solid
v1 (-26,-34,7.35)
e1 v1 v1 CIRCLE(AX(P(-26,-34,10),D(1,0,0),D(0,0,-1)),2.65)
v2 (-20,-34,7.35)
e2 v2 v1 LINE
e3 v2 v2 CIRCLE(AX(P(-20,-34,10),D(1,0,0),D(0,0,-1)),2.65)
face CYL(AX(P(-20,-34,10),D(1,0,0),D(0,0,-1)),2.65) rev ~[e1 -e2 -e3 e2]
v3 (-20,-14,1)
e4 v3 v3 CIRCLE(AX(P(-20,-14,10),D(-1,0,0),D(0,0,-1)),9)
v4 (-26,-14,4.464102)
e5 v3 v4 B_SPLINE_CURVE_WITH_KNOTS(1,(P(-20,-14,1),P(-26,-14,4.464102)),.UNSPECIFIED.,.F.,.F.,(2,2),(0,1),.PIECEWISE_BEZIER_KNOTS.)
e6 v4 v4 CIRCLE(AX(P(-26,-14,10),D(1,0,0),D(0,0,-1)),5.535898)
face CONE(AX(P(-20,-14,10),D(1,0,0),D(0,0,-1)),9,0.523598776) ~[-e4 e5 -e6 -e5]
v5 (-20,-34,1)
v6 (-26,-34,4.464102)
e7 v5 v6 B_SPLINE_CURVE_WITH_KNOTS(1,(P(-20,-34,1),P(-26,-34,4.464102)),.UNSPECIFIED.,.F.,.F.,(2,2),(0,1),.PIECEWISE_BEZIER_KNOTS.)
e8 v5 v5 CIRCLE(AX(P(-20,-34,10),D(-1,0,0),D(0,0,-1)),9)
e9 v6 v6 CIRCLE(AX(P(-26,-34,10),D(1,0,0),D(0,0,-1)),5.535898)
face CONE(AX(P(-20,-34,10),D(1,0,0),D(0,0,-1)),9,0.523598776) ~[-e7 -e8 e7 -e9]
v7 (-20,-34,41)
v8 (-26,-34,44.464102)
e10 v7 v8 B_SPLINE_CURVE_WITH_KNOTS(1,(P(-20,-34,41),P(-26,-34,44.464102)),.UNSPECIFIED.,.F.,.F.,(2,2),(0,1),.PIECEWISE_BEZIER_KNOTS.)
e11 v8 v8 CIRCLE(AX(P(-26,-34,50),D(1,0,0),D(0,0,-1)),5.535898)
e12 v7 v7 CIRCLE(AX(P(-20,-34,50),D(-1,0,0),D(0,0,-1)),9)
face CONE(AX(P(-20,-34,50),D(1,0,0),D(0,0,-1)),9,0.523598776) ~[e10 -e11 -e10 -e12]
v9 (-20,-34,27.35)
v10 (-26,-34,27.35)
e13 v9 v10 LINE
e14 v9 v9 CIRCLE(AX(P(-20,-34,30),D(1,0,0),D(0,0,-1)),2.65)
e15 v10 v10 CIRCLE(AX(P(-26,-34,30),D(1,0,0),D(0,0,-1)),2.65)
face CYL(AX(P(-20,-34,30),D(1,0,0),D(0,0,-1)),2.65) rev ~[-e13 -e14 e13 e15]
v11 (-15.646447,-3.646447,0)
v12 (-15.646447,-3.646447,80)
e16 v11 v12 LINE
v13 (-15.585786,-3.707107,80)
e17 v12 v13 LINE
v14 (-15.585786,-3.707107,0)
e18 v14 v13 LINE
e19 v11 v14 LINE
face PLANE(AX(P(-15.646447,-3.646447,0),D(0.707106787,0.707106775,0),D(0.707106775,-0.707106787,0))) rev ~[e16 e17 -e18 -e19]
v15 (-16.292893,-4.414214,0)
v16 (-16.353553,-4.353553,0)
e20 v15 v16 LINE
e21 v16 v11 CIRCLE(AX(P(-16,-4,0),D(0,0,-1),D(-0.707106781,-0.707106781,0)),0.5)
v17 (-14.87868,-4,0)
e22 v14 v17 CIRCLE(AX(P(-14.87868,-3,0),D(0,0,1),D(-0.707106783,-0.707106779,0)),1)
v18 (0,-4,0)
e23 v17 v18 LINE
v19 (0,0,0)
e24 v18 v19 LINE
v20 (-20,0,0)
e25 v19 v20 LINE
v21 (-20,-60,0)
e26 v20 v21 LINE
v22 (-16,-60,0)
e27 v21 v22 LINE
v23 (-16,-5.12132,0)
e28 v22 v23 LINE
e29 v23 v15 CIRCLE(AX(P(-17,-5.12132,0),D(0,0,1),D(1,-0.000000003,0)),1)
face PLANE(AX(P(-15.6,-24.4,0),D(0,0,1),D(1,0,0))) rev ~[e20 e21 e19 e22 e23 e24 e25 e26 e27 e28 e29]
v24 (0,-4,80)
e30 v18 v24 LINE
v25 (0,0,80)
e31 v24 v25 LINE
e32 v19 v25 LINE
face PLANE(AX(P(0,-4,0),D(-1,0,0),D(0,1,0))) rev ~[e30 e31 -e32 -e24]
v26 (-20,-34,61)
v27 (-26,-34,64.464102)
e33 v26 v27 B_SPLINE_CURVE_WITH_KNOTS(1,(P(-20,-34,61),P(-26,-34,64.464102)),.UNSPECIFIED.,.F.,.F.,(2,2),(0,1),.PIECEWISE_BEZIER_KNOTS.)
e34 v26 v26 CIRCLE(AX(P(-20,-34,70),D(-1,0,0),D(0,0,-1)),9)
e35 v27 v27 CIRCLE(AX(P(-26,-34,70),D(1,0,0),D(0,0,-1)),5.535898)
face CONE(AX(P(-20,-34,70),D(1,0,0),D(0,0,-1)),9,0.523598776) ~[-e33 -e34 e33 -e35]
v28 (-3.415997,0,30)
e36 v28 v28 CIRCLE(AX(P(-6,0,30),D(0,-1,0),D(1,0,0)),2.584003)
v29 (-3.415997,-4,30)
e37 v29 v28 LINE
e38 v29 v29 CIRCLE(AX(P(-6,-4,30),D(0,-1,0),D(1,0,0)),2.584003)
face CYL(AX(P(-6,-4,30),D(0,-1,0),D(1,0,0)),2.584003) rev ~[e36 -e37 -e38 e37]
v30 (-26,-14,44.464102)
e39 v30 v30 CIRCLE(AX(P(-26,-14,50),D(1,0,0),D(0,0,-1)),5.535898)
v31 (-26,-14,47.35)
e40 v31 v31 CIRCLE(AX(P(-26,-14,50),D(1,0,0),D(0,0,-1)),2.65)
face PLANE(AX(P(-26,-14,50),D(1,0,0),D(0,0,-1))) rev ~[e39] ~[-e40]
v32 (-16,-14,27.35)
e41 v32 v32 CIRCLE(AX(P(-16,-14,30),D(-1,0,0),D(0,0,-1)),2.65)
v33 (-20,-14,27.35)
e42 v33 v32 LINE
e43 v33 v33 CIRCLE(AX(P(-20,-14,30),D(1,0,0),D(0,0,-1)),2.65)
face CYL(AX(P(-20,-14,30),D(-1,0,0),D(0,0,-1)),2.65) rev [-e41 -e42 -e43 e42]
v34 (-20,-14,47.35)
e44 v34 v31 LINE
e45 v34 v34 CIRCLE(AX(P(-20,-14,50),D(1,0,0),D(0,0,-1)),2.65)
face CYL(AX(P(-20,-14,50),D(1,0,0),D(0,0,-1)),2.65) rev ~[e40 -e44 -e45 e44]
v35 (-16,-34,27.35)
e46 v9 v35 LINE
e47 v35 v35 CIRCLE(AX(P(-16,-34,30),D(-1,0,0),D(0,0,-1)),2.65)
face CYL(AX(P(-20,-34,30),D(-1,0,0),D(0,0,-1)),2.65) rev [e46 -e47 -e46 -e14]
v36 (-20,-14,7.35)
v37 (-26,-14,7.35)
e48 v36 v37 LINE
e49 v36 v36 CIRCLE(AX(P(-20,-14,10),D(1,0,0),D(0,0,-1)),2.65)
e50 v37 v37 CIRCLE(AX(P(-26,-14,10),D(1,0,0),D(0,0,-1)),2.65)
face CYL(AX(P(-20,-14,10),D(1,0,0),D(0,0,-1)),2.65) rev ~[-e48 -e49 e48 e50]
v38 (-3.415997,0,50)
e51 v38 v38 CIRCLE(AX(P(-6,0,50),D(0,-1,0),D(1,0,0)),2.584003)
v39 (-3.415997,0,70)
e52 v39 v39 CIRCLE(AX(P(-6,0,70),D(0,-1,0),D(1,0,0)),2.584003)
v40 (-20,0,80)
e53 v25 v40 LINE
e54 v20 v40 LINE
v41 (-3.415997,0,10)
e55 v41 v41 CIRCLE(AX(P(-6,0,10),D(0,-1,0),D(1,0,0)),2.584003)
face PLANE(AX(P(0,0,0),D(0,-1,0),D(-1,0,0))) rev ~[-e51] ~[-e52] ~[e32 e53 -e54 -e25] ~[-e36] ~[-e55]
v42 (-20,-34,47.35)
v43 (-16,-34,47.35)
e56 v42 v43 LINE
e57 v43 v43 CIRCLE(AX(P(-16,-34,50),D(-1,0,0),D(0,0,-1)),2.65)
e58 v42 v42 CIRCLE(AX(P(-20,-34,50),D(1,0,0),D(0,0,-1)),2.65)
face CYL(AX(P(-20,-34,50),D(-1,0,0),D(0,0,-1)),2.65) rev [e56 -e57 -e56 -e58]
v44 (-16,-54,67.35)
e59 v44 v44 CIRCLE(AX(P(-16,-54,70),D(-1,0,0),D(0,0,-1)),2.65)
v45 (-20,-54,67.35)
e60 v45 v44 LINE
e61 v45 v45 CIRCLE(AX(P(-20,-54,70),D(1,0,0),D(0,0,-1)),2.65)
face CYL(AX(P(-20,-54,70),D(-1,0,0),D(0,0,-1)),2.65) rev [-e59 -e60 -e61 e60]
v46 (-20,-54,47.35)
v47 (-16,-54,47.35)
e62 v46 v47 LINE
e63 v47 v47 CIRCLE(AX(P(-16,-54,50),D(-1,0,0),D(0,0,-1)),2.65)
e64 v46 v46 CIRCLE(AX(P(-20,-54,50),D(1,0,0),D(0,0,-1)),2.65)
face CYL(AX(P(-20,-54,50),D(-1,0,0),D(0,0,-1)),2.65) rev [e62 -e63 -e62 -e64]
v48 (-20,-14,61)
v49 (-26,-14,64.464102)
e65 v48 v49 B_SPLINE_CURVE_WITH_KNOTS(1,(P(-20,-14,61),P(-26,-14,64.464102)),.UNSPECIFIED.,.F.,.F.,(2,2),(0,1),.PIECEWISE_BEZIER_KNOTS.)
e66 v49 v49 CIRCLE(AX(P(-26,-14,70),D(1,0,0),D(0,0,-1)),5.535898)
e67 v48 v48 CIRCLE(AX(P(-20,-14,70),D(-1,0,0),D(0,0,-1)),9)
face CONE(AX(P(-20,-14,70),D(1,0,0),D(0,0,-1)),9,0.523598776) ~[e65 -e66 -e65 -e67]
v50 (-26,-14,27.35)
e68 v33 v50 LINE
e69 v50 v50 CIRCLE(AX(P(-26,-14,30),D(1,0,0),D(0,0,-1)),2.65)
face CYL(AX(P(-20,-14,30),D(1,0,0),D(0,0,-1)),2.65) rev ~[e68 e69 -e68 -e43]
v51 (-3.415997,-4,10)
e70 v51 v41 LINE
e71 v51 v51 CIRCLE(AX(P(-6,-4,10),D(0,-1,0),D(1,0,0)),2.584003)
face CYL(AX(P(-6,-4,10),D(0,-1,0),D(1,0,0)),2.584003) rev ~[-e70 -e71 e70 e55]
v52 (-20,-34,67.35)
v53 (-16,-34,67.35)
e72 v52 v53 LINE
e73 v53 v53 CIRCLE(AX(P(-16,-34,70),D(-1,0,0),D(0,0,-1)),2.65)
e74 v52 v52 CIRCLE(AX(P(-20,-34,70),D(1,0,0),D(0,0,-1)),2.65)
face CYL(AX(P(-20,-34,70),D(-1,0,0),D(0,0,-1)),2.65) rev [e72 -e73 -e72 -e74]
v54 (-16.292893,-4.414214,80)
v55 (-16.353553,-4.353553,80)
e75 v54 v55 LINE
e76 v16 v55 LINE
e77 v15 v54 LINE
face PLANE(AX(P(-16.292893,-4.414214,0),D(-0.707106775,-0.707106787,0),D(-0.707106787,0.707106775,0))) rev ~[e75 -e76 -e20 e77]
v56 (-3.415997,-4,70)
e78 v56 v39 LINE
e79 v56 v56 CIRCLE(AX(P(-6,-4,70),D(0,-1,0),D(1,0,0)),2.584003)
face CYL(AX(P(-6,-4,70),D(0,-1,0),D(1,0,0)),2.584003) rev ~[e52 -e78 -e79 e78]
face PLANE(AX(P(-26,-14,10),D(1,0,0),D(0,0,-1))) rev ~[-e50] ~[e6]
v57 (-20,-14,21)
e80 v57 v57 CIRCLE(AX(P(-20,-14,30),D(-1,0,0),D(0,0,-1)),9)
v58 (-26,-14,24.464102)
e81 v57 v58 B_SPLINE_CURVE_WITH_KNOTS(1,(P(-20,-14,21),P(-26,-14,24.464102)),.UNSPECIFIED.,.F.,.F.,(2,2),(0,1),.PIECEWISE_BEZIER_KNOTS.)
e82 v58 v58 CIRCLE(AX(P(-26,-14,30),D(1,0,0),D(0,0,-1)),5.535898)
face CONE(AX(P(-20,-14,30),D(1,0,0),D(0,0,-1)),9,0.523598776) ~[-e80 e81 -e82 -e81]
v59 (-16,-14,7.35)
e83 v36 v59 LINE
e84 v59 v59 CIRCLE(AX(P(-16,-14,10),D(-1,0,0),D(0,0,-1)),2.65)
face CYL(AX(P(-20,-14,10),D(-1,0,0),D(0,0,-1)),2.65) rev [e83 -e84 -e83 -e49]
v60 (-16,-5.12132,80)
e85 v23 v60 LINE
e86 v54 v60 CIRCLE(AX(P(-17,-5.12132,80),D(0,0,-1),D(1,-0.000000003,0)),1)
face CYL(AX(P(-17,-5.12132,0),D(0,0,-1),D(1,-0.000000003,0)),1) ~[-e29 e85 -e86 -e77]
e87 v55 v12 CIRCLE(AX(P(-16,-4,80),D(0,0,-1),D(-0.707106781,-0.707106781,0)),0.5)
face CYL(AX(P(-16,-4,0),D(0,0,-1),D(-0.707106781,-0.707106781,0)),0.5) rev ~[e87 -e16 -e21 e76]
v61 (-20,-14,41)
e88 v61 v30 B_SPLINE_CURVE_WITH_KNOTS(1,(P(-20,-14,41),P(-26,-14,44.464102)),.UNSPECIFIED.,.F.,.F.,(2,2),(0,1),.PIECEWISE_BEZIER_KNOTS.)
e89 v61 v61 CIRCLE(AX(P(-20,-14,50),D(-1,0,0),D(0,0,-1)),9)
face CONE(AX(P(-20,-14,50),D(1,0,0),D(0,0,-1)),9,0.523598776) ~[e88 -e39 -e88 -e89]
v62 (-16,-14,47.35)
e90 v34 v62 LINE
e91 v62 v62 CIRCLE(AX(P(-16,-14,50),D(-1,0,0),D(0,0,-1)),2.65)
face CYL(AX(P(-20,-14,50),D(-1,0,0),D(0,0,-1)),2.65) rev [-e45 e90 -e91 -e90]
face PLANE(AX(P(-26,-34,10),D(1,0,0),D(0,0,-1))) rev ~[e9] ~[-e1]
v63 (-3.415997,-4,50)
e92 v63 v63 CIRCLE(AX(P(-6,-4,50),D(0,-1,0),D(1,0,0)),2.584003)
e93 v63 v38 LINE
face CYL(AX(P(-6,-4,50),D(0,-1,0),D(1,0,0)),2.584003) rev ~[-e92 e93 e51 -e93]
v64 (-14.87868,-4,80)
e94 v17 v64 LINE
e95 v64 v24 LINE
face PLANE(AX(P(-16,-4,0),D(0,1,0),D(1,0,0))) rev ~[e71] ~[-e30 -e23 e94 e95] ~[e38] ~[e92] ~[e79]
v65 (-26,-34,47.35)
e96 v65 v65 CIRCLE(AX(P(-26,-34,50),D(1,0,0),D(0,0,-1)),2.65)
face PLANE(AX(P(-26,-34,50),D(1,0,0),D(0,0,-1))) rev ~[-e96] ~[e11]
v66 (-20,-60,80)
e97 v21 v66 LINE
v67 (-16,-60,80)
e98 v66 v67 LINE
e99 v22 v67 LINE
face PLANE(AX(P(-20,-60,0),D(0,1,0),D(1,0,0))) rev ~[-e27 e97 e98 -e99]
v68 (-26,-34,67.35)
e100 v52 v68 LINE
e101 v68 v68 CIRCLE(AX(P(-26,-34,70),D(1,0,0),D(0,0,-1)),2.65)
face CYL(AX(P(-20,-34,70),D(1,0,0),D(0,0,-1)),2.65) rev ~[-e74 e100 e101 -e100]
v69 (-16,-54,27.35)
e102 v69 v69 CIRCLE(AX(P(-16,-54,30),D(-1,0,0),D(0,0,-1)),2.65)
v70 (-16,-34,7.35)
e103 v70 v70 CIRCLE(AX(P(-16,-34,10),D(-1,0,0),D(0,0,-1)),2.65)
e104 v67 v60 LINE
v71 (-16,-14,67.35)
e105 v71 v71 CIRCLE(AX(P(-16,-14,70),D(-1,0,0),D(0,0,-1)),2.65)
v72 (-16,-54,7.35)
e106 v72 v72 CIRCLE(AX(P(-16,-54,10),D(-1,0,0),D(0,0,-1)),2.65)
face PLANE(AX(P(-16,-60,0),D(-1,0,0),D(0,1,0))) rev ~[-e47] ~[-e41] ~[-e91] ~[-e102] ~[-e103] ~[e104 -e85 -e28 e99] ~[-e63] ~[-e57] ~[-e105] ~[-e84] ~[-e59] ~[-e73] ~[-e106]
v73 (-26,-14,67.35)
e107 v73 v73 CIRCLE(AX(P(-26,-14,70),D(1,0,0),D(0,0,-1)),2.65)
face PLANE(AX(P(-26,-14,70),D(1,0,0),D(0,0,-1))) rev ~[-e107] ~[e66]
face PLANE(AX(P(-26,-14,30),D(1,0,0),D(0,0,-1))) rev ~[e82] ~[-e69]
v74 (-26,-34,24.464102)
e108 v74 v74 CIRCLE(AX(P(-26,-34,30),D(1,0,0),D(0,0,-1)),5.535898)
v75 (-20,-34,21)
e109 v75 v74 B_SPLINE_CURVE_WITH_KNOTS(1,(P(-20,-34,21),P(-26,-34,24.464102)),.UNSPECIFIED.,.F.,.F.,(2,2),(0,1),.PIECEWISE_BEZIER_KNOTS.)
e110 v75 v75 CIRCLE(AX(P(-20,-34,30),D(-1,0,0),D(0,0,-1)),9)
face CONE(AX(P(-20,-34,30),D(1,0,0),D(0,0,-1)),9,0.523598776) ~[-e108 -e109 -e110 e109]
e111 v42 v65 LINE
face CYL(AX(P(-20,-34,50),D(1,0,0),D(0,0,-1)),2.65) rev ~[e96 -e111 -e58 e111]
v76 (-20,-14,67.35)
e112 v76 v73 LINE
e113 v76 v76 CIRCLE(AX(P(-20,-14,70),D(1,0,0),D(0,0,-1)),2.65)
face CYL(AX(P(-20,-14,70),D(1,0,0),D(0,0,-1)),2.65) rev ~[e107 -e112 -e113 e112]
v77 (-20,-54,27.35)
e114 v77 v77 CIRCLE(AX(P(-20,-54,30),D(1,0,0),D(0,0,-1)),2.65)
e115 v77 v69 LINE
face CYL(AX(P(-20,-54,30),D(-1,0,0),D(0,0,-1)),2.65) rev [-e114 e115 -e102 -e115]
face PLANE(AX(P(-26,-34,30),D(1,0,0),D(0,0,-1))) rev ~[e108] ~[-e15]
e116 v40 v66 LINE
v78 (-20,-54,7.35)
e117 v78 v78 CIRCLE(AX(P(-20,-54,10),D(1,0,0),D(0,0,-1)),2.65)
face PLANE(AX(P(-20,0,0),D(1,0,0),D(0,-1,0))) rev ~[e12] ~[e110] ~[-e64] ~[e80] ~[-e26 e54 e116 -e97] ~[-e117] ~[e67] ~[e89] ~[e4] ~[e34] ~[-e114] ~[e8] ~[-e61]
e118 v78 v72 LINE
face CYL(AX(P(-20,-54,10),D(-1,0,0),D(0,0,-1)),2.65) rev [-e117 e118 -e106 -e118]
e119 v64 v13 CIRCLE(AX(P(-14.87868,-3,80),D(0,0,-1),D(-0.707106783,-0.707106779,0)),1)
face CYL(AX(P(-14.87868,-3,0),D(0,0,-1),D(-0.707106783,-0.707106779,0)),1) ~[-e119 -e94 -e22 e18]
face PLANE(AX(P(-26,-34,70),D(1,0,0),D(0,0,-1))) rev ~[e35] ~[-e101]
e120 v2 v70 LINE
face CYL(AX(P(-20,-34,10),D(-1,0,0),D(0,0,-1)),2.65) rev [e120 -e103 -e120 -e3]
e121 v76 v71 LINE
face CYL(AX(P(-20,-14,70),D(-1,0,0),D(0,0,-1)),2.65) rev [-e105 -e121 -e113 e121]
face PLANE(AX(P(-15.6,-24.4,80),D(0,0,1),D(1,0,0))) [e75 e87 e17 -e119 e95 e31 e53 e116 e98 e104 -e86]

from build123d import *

# Parameters (mm, degrees)
BOSS_EXTRUDE1_DEPTH            = 80
SKETCH2_R                      = 9
BOSS_EXTRUDE2_DEPTH            = 6
BOSS_EXTRUDE2_DRAFT            = -30
BOSS_EXTRUDE2_PROFILE_2_DEPTH  = 6
BOSS_EXTRUDE2_PROFILE_2_DRAFT  = -30
BOSS_EXTRUDE2_PROFILE_3_DEPTH  = 6
BOSS_EXTRUDE2_PROFILE_3_DRAFT  = -30
BOSS_EXTRUDE2_PROFILE_4_DEPTH  = 6
BOSS_EXTRUDE2_PROFILE_4_DRAFT  = -30
BOSS_EXTRUDE2_PROFILE_5_DEPTH  = 6
BOSS_EXTRUDE2_PROFILE_5_DRAFT  = -30
BOSS_EXTRUDE2_PROFILE_6_DEPTH  = 6
BOSS_EXTRUDE2_PROFILE_6_DRAFT  = -30
BOSS_EXTRUDE2_PROFILE_7_DEPTH  = 6
BOSS_EXTRUDE2_PROFILE_7_DRAFT  = -30
BOSS_EXTRUDE2_PROFILE_8_DEPTH  = 6
BOSS_EXTRUDE2_PROFILE_8_DRAFT  = -30
CUT_EXTRUDE1_REACH             = 103.98
SKETCH2_4_R                    = 2.65
CUT_EXTRUDE1_DIRECTION_2_REACH = 103.98
CUT_EXTRUDE2_REACH             = 103.054
SKETCH3_R                      = 2.584003328
CUT_EXTRUDE3_REACH             = 105.325


with BuildPart() as part:
    # Sketch1 → Boss-Extrude1 (new body)
    with BuildSketch(Plane.XY):
        Polygon((0, 0), (-20, 0), (-20, -60), (-16, -60), (-16, -4), (0, -4), align=None)
    extrude(amount=BOSS_EXTRUDE1_DEPTH)


with BuildPart() as boss_extrude2_tool:
    # Sketch2 → Boss-Extrude2 (with draft: the straight prism first)
    with BuildSketch(Plane(origin=(-20, 0, 0), x_dir=(0, 0, -1), z_dir=(1, 0, 0))):
        with Locations((-10, -14)):
            Circle(SKETCH2_R)
    extrude(amount=-BOSS_EXTRUDE2_DEPTH)
    # Boss-Extrude2: the draft: its side faces are tilted about the plane it starts from
    boss_extrude2_sides = [boss_extrude2_tool.faces().sort_by_distance(p)[0] for p in [
        (-23, -14, 19),
    ]]
    draft(boss_extrude2_sides, Plane(origin=(-20, 0, 0), x_dir=(0, 0, -1), z_dir=(1, 0, 0)), BOSS_EXTRUDE2_DRAFT)


with BuildPart() as part_1:
    add(part.part)

    # Boss-Extrude2: add boss_extrude2_tool
    add(boss_extrude2_tool.part)


with BuildPart() as boss_extrude2_profile_2_tool:
    # Sketch2 → Boss-Extrude2 profile 2 (with draft: the straight prism first)
    with BuildSketch(Plane(origin=(-20, 0, 0), x_dir=(0, 0, -1), z_dir=(1, 0, 0))):
        with Locations((-30, -14)):
            Circle(SKETCH2_R)
    extrude(amount=-BOSS_EXTRUDE2_PROFILE_2_DEPTH)
    # Boss-Extrude2 profile 2: the draft: its side faces are tilted about the plane it starts from
    boss_extrude2_profile_2_sides = [boss_extrude2_profile_2_tool.faces().sort_by_distance(p)[0] for p in [
        (-23, -14, 39),
    ]]
    draft(boss_extrude2_profile_2_sides, Plane(origin=(-20, 0, 0), x_dir=(0, 0, -1), z_dir=(1, 0, 0)), BOSS_EXTRUDE2_PROFILE_2_DRAFT)


with BuildPart() as part_2:
    add(part_1.part)

    # Boss-Extrude2 profile 2: add boss_extrude2_profile_2_tool
    add(boss_extrude2_profile_2_tool.part)


with BuildPart() as boss_extrude2_profile_3_tool:
    # Sketch2 → Boss-Extrude2 profile 3 (with draft: the straight prism first)
    with BuildSketch(Plane(origin=(-20, 0, 0), x_dir=(0, 0, -1), z_dir=(1, 0, 0))):
        with Locations((-50, -14)):
            Circle(SKETCH2_R)
    extrude(amount=-BOSS_EXTRUDE2_PROFILE_3_DEPTH)
    # Boss-Extrude2 profile 3: the draft: its side faces are tilted about the plane it starts from
    boss_extrude2_profile_3_sides = [boss_extrude2_profile_3_tool.faces().sort_by_distance(p)[0] for p in [
        (-23, -14, 59),
    ]]
    draft(boss_extrude2_profile_3_sides, Plane(origin=(-20, 0, 0), x_dir=(0, 0, -1), z_dir=(1, 0, 0)), BOSS_EXTRUDE2_PROFILE_3_DRAFT)


with BuildPart() as part_3:
    add(part_2.part)

    # Boss-Extrude2 profile 3: add boss_extrude2_profile_3_tool
    add(boss_extrude2_profile_3_tool.part)


with BuildPart() as boss_extrude2_profile_4_tool:
    # Sketch2 → Boss-Extrude2 profile 4 (with draft: the straight prism first)
    with BuildSketch(Plane(origin=(-20, 0, 0), x_dir=(0, 0, -1), z_dir=(1, 0, 0))):
        with Locations((-70, -14)):
            Circle(SKETCH2_R)
    extrude(amount=-BOSS_EXTRUDE2_PROFILE_4_DEPTH)
    # Boss-Extrude2 profile 4: the draft: its side faces are tilted about the plane it starts from
    boss_extrude2_profile_4_sides = [boss_extrude2_profile_4_tool.faces().sort_by_distance(p)[0] for p in [
        (-23, -14, 79),
    ]]
    draft(boss_extrude2_profile_4_sides, Plane(origin=(-20, 0, 0), x_dir=(0, 0, -1), z_dir=(1, 0, 0)), BOSS_EXTRUDE2_PROFILE_4_DRAFT)


with BuildPart() as part_4:
    add(part_3.part)

    # Boss-Extrude2 profile 4: add boss_extrude2_profile_4_tool
    add(boss_extrude2_profile_4_tool.part)


with BuildPart() as boss_extrude2_profile_5_tool:
    # Sketch2 → Boss-Extrude2 profile 5 (with draft: the straight prism first)
    with BuildSketch(Plane(origin=(-20, 0, 0), x_dir=(0, 0, -1), z_dir=(1, 0, 0))):
        with Locations((-10, -34)):
            Circle(SKETCH2_R)
    extrude(amount=-BOSS_EXTRUDE2_PROFILE_5_DEPTH)
    # Boss-Extrude2 profile 5: the draft: its side faces are tilted about the plane it starts from
    boss_extrude2_profile_5_sides = [boss_extrude2_profile_5_tool.faces().sort_by_distance(p)[0] for p in [
        (-23, -34, 19),
    ]]
    draft(boss_extrude2_profile_5_sides, Plane(origin=(-20, 0, 0), x_dir=(0, 0, -1), z_dir=(1, 0, 0)), BOSS_EXTRUDE2_PROFILE_5_DRAFT)


with BuildPart() as part_5:
    add(part_4.part)

    # Boss-Extrude2 profile 5: add boss_extrude2_profile_5_tool
    add(boss_extrude2_profile_5_tool.part)


with BuildPart() as boss_extrude2_profile_6_tool:
    # Sketch2 → Boss-Extrude2 profile 6 (with draft: the straight prism first)
    with BuildSketch(Plane(origin=(-20, 0, 0), x_dir=(0, 0, -1), z_dir=(1, 0, 0))):
        with Locations((-30, -34)):
            Circle(SKETCH2_R)
    extrude(amount=-BOSS_EXTRUDE2_PROFILE_6_DEPTH)
    # Boss-Extrude2 profile 6: the draft: its side faces are tilted about the plane it starts from
    boss_extrude2_profile_6_sides = [boss_extrude2_profile_6_tool.faces().sort_by_distance(p)[0] for p in [
        (-23, -34, 39),
    ]]
    draft(boss_extrude2_profile_6_sides, Plane(origin=(-20, 0, 0), x_dir=(0, 0, -1), z_dir=(1, 0, 0)), BOSS_EXTRUDE2_PROFILE_6_DRAFT)


with BuildPart() as part_6:
    add(part_5.part)

    # Boss-Extrude2 profile 6: add boss_extrude2_profile_6_tool
    add(boss_extrude2_profile_6_tool.part)


with BuildPart() as boss_extrude2_profile_7_tool:
    # Sketch2 → Boss-Extrude2 profile 7 (with draft: the straight prism first)
    with BuildSketch(Plane(origin=(-20, 0, 0), x_dir=(0, 0, -1), z_dir=(1, 0, 0))):
        with Locations((-50, -34)):
            Circle(SKETCH2_R)
    extrude(amount=-BOSS_EXTRUDE2_PROFILE_7_DEPTH)
    # Boss-Extrude2 profile 7: the draft: its side faces are tilted about the plane it starts from
    boss_extrude2_profile_7_sides = [boss_extrude2_profile_7_tool.faces().sort_by_distance(p)[0] for p in [
        (-23, -34, 59),
    ]]
    draft(boss_extrude2_profile_7_sides, Plane(origin=(-20, 0, 0), x_dir=(0, 0, -1), z_dir=(1, 0, 0)), BOSS_EXTRUDE2_PROFILE_7_DRAFT)


with BuildPart() as part_7:
    add(part_6.part)

    # Boss-Extrude2 profile 7: add boss_extrude2_profile_7_tool
    add(boss_extrude2_profile_7_tool.part)


with BuildPart() as boss_extrude2_profile_8_tool:
    # Sketch2 → Boss-Extrude2 profile 8 (with draft: the straight prism first)
    with BuildSketch(Plane(origin=(-20, 0, 0), x_dir=(0, 0, -1), z_dir=(1, 0, 0))):
        with Locations((-70, -34)):
            Circle(SKETCH2_R)
    extrude(amount=-BOSS_EXTRUDE2_PROFILE_8_DEPTH)
    # Boss-Extrude2 profile 8: the draft: its side faces are tilted about the plane it starts from
    boss_extrude2_profile_8_sides = [boss_extrude2_profile_8_tool.faces().sort_by_distance(p)[0] for p in [
        (-23, -34, 79),
    ]]
    draft(boss_extrude2_profile_8_sides, Plane(origin=(-20, 0, 0), x_dir=(0, 0, -1), z_dir=(1, 0, 0)), BOSS_EXTRUDE2_PROFILE_8_DRAFT)


with BuildPart() as part_8:
    add(part_7.part)

    # Boss-Extrude2 profile 8: add boss_extrude2_profile_8_tool
    add(boss_extrude2_profile_8_tool.part)

    # Cut-Extrude1: up to this face of the body (flat: up to its plane)
    cut_extrude1_end = Plane(part_8.part.faces().sort_by_distance((-26, -14, 10))[0])
    # Sketch2_4 → Cut-Extrude1 (cut, up to the picked face)
    with BuildSketch(Plane(origin=(-20, 0, 0), x_dir=(0, 0, -1), z_dir=(1, 0, 0)), mode=Mode.PRIVATE) as cut_extrude1_sk1:
        with Locations((-10, -14)):
            Circle(SKETCH2_4_R)
    cut_extrude1_tool1 = split(extrude(cut_extrude1_sk1.sketch, amount=-CUT_EXTRUDE1_REACH, mode=Mode.PRIVATE), bisect_by=cut_extrude1_end, keep=Keep.BOTH, mode=Mode.PRIVATE)
    # Sketch2_4 → Cut-Extrude1 (cut, up to the picked face)
    with BuildSketch(Plane(origin=(-20, 0, 0), x_dir=(0, 0, -1), z_dir=(1, 0, 0)), mode=Mode.PRIVATE) as cut_extrude1_sk2:
        with Locations((-30, -14)):
            Circle(SKETCH2_4_R)
    cut_extrude1_tool2 = split(extrude(cut_extrude1_sk2.sketch, amount=-CUT_EXTRUDE1_REACH, mode=Mode.PRIVATE), bisect_by=cut_extrude1_end, keep=Keep.BOTH, mode=Mode.PRIVATE)
    # Sketch2_4 → Cut-Extrude1 (cut, up to the picked face)
    with BuildSketch(Plane(origin=(-20, 0, 0), x_dir=(0, 0, -1), z_dir=(1, 0, 0)), mode=Mode.PRIVATE) as cut_extrude1_sk3:
        with Locations((-50, -14)):
            Circle(SKETCH2_4_R)
    cut_extrude1_tool3 = split(extrude(cut_extrude1_sk3.sketch, amount=-CUT_EXTRUDE1_REACH, mode=Mode.PRIVATE), bisect_by=cut_extrude1_end, keep=Keep.BOTH, mode=Mode.PRIVATE)
    # Sketch2_4 → Cut-Extrude1 (cut, up to the picked face)
    with BuildSketch(Plane(origin=(-20, 0, 0), x_dir=(0, 0, -1), z_dir=(1, 0, 0)), mode=Mode.PRIVATE) as cut_extrude1_sk4:
        with Locations((-70, -14)):
            Circle(SKETCH2_4_R)
    cut_extrude1_tool4 = split(extrude(cut_extrude1_sk4.sketch, amount=-CUT_EXTRUDE1_REACH, mode=Mode.PRIVATE), bisect_by=cut_extrude1_end, keep=Keep.BOTH, mode=Mode.PRIVATE)
    # Sketch2_4 → Cut-Extrude1 (cut, up to the picked face)
    with BuildSketch(Plane(origin=(-20, 0, 0), x_dir=(0, 0, -1), z_dir=(1, 0, 0)), mode=Mode.PRIVATE) as cut_extrude1_sk5:
        with Locations((-10, -34)):
            Circle(SKETCH2_4_R)
    cut_extrude1_tool5 = split(extrude(cut_extrude1_sk5.sketch, amount=-CUT_EXTRUDE1_REACH, mode=Mode.PRIVATE), bisect_by=cut_extrude1_end, keep=Keep.BOTH, mode=Mode.PRIVATE)
    # Sketch2_4 → Cut-Extrude1 (cut, up to the picked face)
    with BuildSketch(Plane(origin=(-20, 0, 0), x_dir=(0, 0, -1), z_dir=(1, 0, 0)), mode=Mode.PRIVATE) as cut_extrude1_sk6:
        with Locations((-30, -34)):
            Circle(SKETCH2_4_R)
    cut_extrude1_tool6 = split(extrude(cut_extrude1_sk6.sketch, amount=-CUT_EXTRUDE1_REACH, mode=Mode.PRIVATE), bisect_by=cut_extrude1_end, keep=Keep.BOTH, mode=Mode.PRIVATE)
    # Sketch2_4 → Cut-Extrude1 (cut, up to the picked face)
    with BuildSketch(Plane(origin=(-20, 0, 0), x_dir=(0, 0, -1), z_dir=(1, 0, 0)), mode=Mode.PRIVATE) as cut_extrude1_sk7:
        with Locations((-50, -34)):
            Circle(SKETCH2_4_R)
    cut_extrude1_tool7 = split(extrude(cut_extrude1_sk7.sketch, amount=-CUT_EXTRUDE1_REACH, mode=Mode.PRIVATE), bisect_by=cut_extrude1_end, keep=Keep.BOTH, mode=Mode.PRIVATE)
    # Sketch2_4 → Cut-Extrude1 (cut, up to the picked face)
    with BuildSketch(Plane(origin=(-20, 0, 0), x_dir=(0, 0, -1), z_dir=(1, 0, 0)), mode=Mode.PRIVATE) as cut_extrude1_sk8:
        with Locations((-70, -34)):
            Circle(SKETCH2_4_R)
    cut_extrude1_tool8 = split(extrude(cut_extrude1_sk8.sketch, amount=-CUT_EXTRUDE1_REACH, mode=Mode.PRIVATE), bisect_by=cut_extrude1_end, keep=Keep.BOTH, mode=Mode.PRIVATE)
    # Sketch2_4 → Cut-Extrude1 (cut, up to the picked face)
    with BuildSketch(Plane(origin=(-20, 0, 0), x_dir=(0, 0, -1), z_dir=(1, 0, 0)), mode=Mode.PRIVATE) as cut_extrude1_sk9:
        with Locations((-70, -54)):
            Circle(SKETCH2_4_R)
    cut_extrude1_tool9 = split(extrude(cut_extrude1_sk9.sketch, amount=-CUT_EXTRUDE1_REACH, mode=Mode.PRIVATE), bisect_by=cut_extrude1_end, keep=Keep.BOTH, mode=Mode.PRIVATE)
    # Sketch2_4 → Cut-Extrude1 (cut, up to the picked face)
    with BuildSketch(Plane(origin=(-20, 0, 0), x_dir=(0, 0, -1), z_dir=(1, 0, 0)), mode=Mode.PRIVATE) as cut_extrude1_sk10:
        with Locations((-50, -54)):
            Circle(SKETCH2_4_R)
    cut_extrude1_tool10 = split(extrude(cut_extrude1_sk10.sketch, amount=-CUT_EXTRUDE1_REACH, mode=Mode.PRIVATE), bisect_by=cut_extrude1_end, keep=Keep.BOTH, mode=Mode.PRIVATE)
    # Sketch2_4 → Cut-Extrude1 (cut, up to the picked face)
    with BuildSketch(Plane(origin=(-20, 0, 0), x_dir=(0, 0, -1), z_dir=(1, 0, 0)), mode=Mode.PRIVATE) as cut_extrude1_sk11:
        with Locations((-30, -54)):
            Circle(SKETCH2_4_R)
    cut_extrude1_tool11 = split(extrude(cut_extrude1_sk11.sketch, amount=-CUT_EXTRUDE1_REACH, mode=Mode.PRIVATE), bisect_by=cut_extrude1_end, keep=Keep.BOTH, mode=Mode.PRIVATE)
    # Sketch2_4 → Cut-Extrude1 (cut, up to the picked face)
    with BuildSketch(Plane(origin=(-20, 0, 0), x_dir=(0, 0, -1), z_dir=(1, 0, 0)), mode=Mode.PRIVATE) as cut_extrude1_sk12:
        with Locations((-10, -54)):
            Circle(SKETCH2_4_R)
    cut_extrude1_tool12 = split(extrude(cut_extrude1_sk12.sketch, amount=-CUT_EXTRUDE1_REACH, mode=Mode.PRIVATE), bisect_by=cut_extrude1_end, keep=Keep.BOTH, mode=Mode.PRIVATE)
    add(cut_extrude1_tool1.solids().sort_by(Axis((-20, -14, 10), (-1, 0, 0)))[0], mode=Mode.SUBTRACT)
    add(cut_extrude1_tool2.solids().sort_by(Axis((-20, -14, 30), (-1, 0, 0)))[0], mode=Mode.SUBTRACT)
    add(cut_extrude1_tool3.solids().sort_by(Axis((-20, -14, 50), (-1, 0, 0)))[0], mode=Mode.SUBTRACT)
    add(cut_extrude1_tool4.solids().sort_by(Axis((-20, -14, 70), (-1, 0, 0)))[0], mode=Mode.SUBTRACT)
    add(cut_extrude1_tool5.solids().sort_by(Axis((-20, -34, 10), (-1, 0, 0)))[0], mode=Mode.SUBTRACT)
    add(cut_extrude1_tool6.solids().sort_by(Axis((-20, -34, 30), (-1, 0, 0)))[0], mode=Mode.SUBTRACT)
    add(cut_extrude1_tool7.solids().sort_by(Axis((-20, -34, 50), (-1, 0, 0)))[0], mode=Mode.SUBTRACT)
    add(cut_extrude1_tool8.solids().sort_by(Axis((-20, -34, 70), (-1, 0, 0)))[0], mode=Mode.SUBTRACT)
    add(cut_extrude1_tool9.solids().sort_by(Axis((-20, -54, 70), (-1, 0, 0)))[0], mode=Mode.SUBTRACT)
    add(cut_extrude1_tool10.solids().sort_by(Axis((-20, -54, 50), (-1, 0, 0)))[0], mode=Mode.SUBTRACT)
    add(cut_extrude1_tool11.solids().sort_by(Axis((-20, -54, 30), (-1, 0, 0)))[0], mode=Mode.SUBTRACT)
    add(cut_extrude1_tool12.solids().sort_by(Axis((-20, -54, 10), (-1, 0, 0)))[0], mode=Mode.SUBTRACT)

    # Cut-Extrude1 direction 2: up to this face of the body (flat: up to its plane)
    cut_extrude1_direction_2_end = Plane(part_8.part.faces().sort_by_distance((-16, -32, 40))[0])
    # Sketch2_4 → Cut-Extrude1 direction 2 (cut, up to the picked face)
    with BuildSketch(Plane(origin=(-20, 0, 0), x_dir=(0, 0, -1), z_dir=(1, 0, 0)), mode=Mode.PRIVATE) as cut_extrude1_direction_2_sk1:
        with Locations((-10, -14)):
            Circle(SKETCH2_4_R)
    cut_extrude1_direction_2_tool1 = split(extrude(cut_extrude1_direction_2_sk1.sketch, amount=CUT_EXTRUDE1_DIRECTION_2_REACH, mode=Mode.PRIVATE), bisect_by=cut_extrude1_direction_2_end, keep=Keep.BOTH, mode=Mode.PRIVATE)
    # Sketch2_4 → Cut-Extrude1 direction 2 (cut, up to the picked face)
    with BuildSketch(Plane(origin=(-20, 0, 0), x_dir=(0, 0, -1), z_dir=(1, 0, 0)), mode=Mode.PRIVATE) as cut_extrude1_direction_2_sk2:
        with Locations((-30, -14)):
            Circle(SKETCH2_4_R)
    cut_extrude1_direction_2_tool2 = split(extrude(cut_extrude1_direction_2_sk2.sketch, amount=CUT_EXTRUDE1_DIRECTION_2_REACH, mode=Mode.PRIVATE), bisect_by=cut_extrude1_direction_2_end, keep=Keep.BOTH, mode=Mode.PRIVATE)
    # Sketch2_4 → Cut-Extrude1 direction 2 (cut, up to the picked face)
    with BuildSketch(Plane(origin=(-20, 0, 0), x_dir=(0, 0, -1), z_dir=(1, 0, 0)), mode=Mode.PRIVATE) as cut_extrude1_direction_2_sk3:
        with Locations((-50, -14)):
            Circle(SKETCH2_4_R)
    cut_extrude1_direction_2_tool3 = split(extrude(cut_extrude1_direction_2_sk3.sketch, amount=CUT_EXTRUDE1_DIRECTION_2_REACH, mode=Mode.PRIVATE), bisect_by=cut_extrude1_direction_2_end, keep=Keep.BOTH, mode=Mode.PRIVATE)
    # Sketch2_4 → Cut-Extrude1 direction 2 (cut, up to the picked face)
    with BuildSketch(Plane(origin=(-20, 0, 0), x_dir=(0, 0, -1), z_dir=(1, 0, 0)), mode=Mode.PRIVATE) as cut_extrude1_direction_2_sk4:
        with Locations((-70, -14)):
            Circle(SKETCH2_4_R)
    cut_extrude1_direction_2_tool4 = split(extrude(cut_extrude1_direction_2_sk4.sketch, amount=CUT_EXTRUDE1_DIRECTION_2_REACH, mode=Mode.PRIVATE), bisect_by=cut_extrude1_direction_2_end, keep=Keep.BOTH, mode=Mode.PRIVATE)
    # Sketch2_4 → Cut-Extrude1 direction 2 (cut, up to the picked face)
    with BuildSketch(Plane(origin=(-20, 0, 0), x_dir=(0, 0, -1), z_dir=(1, 0, 0)), mode=Mode.PRIVATE) as cut_extrude1_direction_2_sk5:
        with Locations((-10, -34)):
            Circle(SKETCH2_4_R)
    cut_extrude1_direction_2_tool5 = split(extrude(cut_extrude1_direction_2_sk5.sketch, amount=CUT_EXTRUDE1_DIRECTION_2_REACH, mode=Mode.PRIVATE), bisect_by=cut_extrude1_direction_2_end, keep=Keep.BOTH, mode=Mode.PRIVATE)
    # Sketch2_4 → Cut-Extrude1 direction 2 (cut, up to the picked face)
    with BuildSketch(Plane(origin=(-20, 0, 0), x_dir=(0, 0, -1), z_dir=(1, 0, 0)), mode=Mode.PRIVATE) as cut_extrude1_direction_2_sk6:
        with Locations((-30, -34)):
            Circle(SKETCH2_4_R)
    cut_extrude1_direction_2_tool6 = split(extrude(cut_extrude1_direction_2_sk6.sketch, amount=CUT_EXTRUDE1_DIRECTION_2_REACH, mode=Mode.PRIVATE), bisect_by=cut_extrude1_direction_2_end, keep=Keep.BOTH, mode=Mode.PRIVATE)
    # Sketch2_4 → Cut-Extrude1 direction 2 (cut, up to the picked face)
    with BuildSketch(Plane(origin=(-20, 0, 0), x_dir=(0, 0, -1), z_dir=(1, 0, 0)), mode=Mode.PRIVATE) as cut_extrude1_direction_2_sk7:
        with Locations((-50, -34)):
            Circle(SKETCH2_4_R)
    cut_extrude1_direction_2_tool7 = split(extrude(cut_extrude1_direction_2_sk7.sketch, amount=CUT_EXTRUDE1_DIRECTION_2_REACH, mode=Mode.PRIVATE), bisect_by=cut_extrude1_direction_2_end, keep=Keep.BOTH, mode=Mode.PRIVATE)
    # Sketch2_4 → Cut-Extrude1 direction 2 (cut, up to the picked face)
    with BuildSketch(Plane(origin=(-20, 0, 0), x_dir=(0, 0, -1), z_dir=(1, 0, 0)), mode=Mode.PRIVATE) as cut_extrude1_direction_2_sk8:
        with Locations((-70, -34)):
            Circle(SKETCH2_4_R)
    cut_extrude1_direction_2_tool8 = split(extrude(cut_extrude1_direction_2_sk8.sketch, amount=CUT_EXTRUDE1_DIRECTION_2_REACH, mode=Mode.PRIVATE), bisect_by=cut_extrude1_direction_2_end, keep=Keep.BOTH, mode=Mode.PRIVATE)
    # Sketch2_4 → Cut-Extrude1 direction 2 (cut, up to the picked face)
    with BuildSketch(Plane(origin=(-20, 0, 0), x_dir=(0, 0, -1), z_dir=(1, 0, 0)), mode=Mode.PRIVATE) as cut_extrude1_direction_2_sk9:
        with Locations((-70, -54)):
            Circle(SKETCH2_4_R)
    cut_extrude1_direction_2_tool9 = split(extrude(cut_extrude1_direction_2_sk9.sketch, amount=CUT_EXTRUDE1_DIRECTION_2_REACH, mode=Mode.PRIVATE), bisect_by=cut_extrude1_direction_2_end, keep=Keep.BOTH, mode=Mode.PRIVATE)
    # Sketch2_4 → Cut-Extrude1 direction 2 (cut, up to the picked face)
    with BuildSketch(Plane(origin=(-20, 0, 0), x_dir=(0, 0, -1), z_dir=(1, 0, 0)), mode=Mode.PRIVATE) as cut_extrude1_direction_2_sk10:
        with Locations((-50, -54)):
            Circle(SKETCH2_4_R)
    cut_extrude1_direction_2_tool10 = split(extrude(cut_extrude1_direction_2_sk10.sketch, amount=CUT_EXTRUDE1_DIRECTION_2_REACH, mode=Mode.PRIVATE), bisect_by=cut_extrude1_direction_2_end, keep=Keep.BOTH, mode=Mode.PRIVATE)
    # Sketch2_4 → Cut-Extrude1 direction 2 (cut, up to the picked face)
    with BuildSketch(Plane(origin=(-20, 0, 0), x_dir=(0, 0, -1), z_dir=(1, 0, 0)), mode=Mode.PRIVATE) as cut_extrude1_direction_2_sk11:
        with Locations((-30, -54)):
            Circle(SKETCH2_4_R)
    cut_extrude1_direction_2_tool11 = split(extrude(cut_extrude1_direction_2_sk11.sketch, amount=CUT_EXTRUDE1_DIRECTION_2_REACH, mode=Mode.PRIVATE), bisect_by=cut_extrude1_direction_2_end, keep=Keep.BOTH, mode=Mode.PRIVATE)
    # Sketch2_4 → Cut-Extrude1 direction 2 (cut, up to the picked face)
    with BuildSketch(Plane(origin=(-20, 0, 0), x_dir=(0, 0, -1), z_dir=(1, 0, 0)), mode=Mode.PRIVATE) as cut_extrude1_direction_2_sk12:
        with Locations((-10, -54)):
            Circle(SKETCH2_4_R)
    cut_extrude1_direction_2_tool12 = split(extrude(cut_extrude1_direction_2_sk12.sketch, amount=CUT_EXTRUDE1_DIRECTION_2_REACH, mode=Mode.PRIVATE), bisect_by=cut_extrude1_direction_2_end, keep=Keep.BOTH, mode=Mode.PRIVATE)
    add(cut_extrude1_direction_2_tool1.solids().sort_by(Axis((-20, -14, 10), (1, 0, 0)))[0], mode=Mode.SUBTRACT)
    add(cut_extrude1_direction_2_tool2.solids().sort_by(Axis((-20, -14, 30), (1, 0, 0)))[0], mode=Mode.SUBTRACT)
    add(cut_extrude1_direction_2_tool3.solids().sort_by(Axis((-20, -14, 50), (1, 0, 0)))[0], mode=Mode.SUBTRACT)
    add(cut_extrude1_direction_2_tool4.solids().sort_by(Axis((-20, -14, 70), (1, 0, 0)))[0], mode=Mode.SUBTRACT)
    add(cut_extrude1_direction_2_tool5.solids().sort_by(Axis((-20, -34, 10), (1, 0, 0)))[0], mode=Mode.SUBTRACT)
    add(cut_extrude1_direction_2_tool6.solids().sort_by(Axis((-20, -34, 30), (1, 0, 0)))[0], mode=Mode.SUBTRACT)
    add(cut_extrude1_direction_2_tool7.solids().sort_by(Axis((-20, -34, 50), (1, 0, 0)))[0], mode=Mode.SUBTRACT)
    add(cut_extrude1_direction_2_tool8.solids().sort_by(Axis((-20, -34, 70), (1, 0, 0)))[0], mode=Mode.SUBTRACT)
    add(cut_extrude1_direction_2_tool9.solids().sort_by(Axis((-20, -54, 70), (1, 0, 0)))[0], mode=Mode.SUBTRACT)
    add(cut_extrude1_direction_2_tool10.solids().sort_by(Axis((-20, -54, 50), (1, 0, 0)))[0], mode=Mode.SUBTRACT)
    add(cut_extrude1_direction_2_tool11.solids().sort_by(Axis((-20, -54, 30), (1, 0, 0)))[0], mode=Mode.SUBTRACT)
    add(cut_extrude1_direction_2_tool12.solids().sort_by(Axis((-20, -54, 10), (1, 0, 0)))[0], mode=Mode.SUBTRACT)

    # Sketch3 → Cut-Extrude2 (cut, up to next)
    with BuildSketch(Plane.XZ.offset(4), mode=Mode.PRIVATE) as cut_extrude2_sk1:
        with Locations((-6, 10)):
            Circle(SKETCH3_R)
    cut_extrude2_tool1 = extrude(cut_extrude2_sk1.sketch, amount=-CUT_EXTRUDE2_REACH, mode=Mode.PRIVATE) & part_8.part
    # Sketch3 → Cut-Extrude2 (cut, up to next)
    with BuildSketch(Plane.XZ.offset(4), mode=Mode.PRIVATE) as cut_extrude2_sk2:
        with Locations((-6, 30)):
            Circle(SKETCH3_R)
    cut_extrude2_tool2 = extrude(cut_extrude2_sk2.sketch, amount=-CUT_EXTRUDE2_REACH, mode=Mode.PRIVATE) & part_8.part
    # Sketch3 → Cut-Extrude2 (cut, up to next)
    with BuildSketch(Plane.XZ.offset(4), mode=Mode.PRIVATE) as cut_extrude2_sk3:
        with Locations((-6, 50)):
            Circle(SKETCH3_R)
    cut_extrude2_tool3 = extrude(cut_extrude2_sk3.sketch, amount=-CUT_EXTRUDE2_REACH, mode=Mode.PRIVATE) & part_8.part
    # Sketch3 → Cut-Extrude2 (cut, up to next)
    with BuildSketch(Plane.XZ.offset(4), mode=Mode.PRIVATE) as cut_extrude2_sk4:
        with Locations((-6, 70)):
            Circle(SKETCH3_R)
    cut_extrude2_tool4 = extrude(cut_extrude2_sk4.sketch, amount=-CUT_EXTRUDE2_REACH, mode=Mode.PRIVATE) & part_8.part
    add(cut_extrude2_tool1.solids().sort_by_distance((-6, -4, 10))[0], mode=Mode.SUBTRACT)
    add(cut_extrude2_tool2.solids().sort_by_distance((-6, -4, 30))[0], mode=Mode.SUBTRACT)
    add(cut_extrude2_tool3.solids().sort_by_distance((-6, -4, 50))[0], mode=Mode.SUBTRACT)
    add(cut_extrude2_tool4.solids().sort_by_distance((-6, -4, 70))[0], mode=Mode.SUBTRACT)

    # Sketch4 → Cut-Extrude3 (cut, up to next)
    with BuildSketch(Plane(origin=(0, 0, 0), x_dir=(-1, 0, 0), z_dir=(0, 0, -1)), mode=Mode.PRIVATE) as cut_extrude3_sk1:
        with BuildLine():
            Line((15.646446609, -3.646446609), (15.585786438, -3.707106781))
            ThreePointArc((15.585786438, -3.707106781), (15.261363089, -3.923879533), (14.878679656, -4))
            Line((14.878679656, -4), (16, -5.121320344))
            ThreePointArc((16, -5.121320344), (16.076120467, -4.738636911), (16.292893219, -4.414213562))
            Line((16.292893219, -4.414213562), (16.353553391, -4.353553391))
            ThreePointArc((16.353553391, -4.353553391), (16.353553391, -3.646446609), (15.646446609, -3.646446609))
        make_face()
    cut_extrude3_tool1 = extrude(cut_extrude3_sk1.sketch, amount=-CUT_EXTRUDE3_REACH, mode=Mode.PRIVATE) & part_8.part
    add(cut_extrude3_tool1.solids().sort_by_distance((-15.832643, -4.167357, 0))[0], mode=Mode.SUBTRACT)


solid = part_8.part
